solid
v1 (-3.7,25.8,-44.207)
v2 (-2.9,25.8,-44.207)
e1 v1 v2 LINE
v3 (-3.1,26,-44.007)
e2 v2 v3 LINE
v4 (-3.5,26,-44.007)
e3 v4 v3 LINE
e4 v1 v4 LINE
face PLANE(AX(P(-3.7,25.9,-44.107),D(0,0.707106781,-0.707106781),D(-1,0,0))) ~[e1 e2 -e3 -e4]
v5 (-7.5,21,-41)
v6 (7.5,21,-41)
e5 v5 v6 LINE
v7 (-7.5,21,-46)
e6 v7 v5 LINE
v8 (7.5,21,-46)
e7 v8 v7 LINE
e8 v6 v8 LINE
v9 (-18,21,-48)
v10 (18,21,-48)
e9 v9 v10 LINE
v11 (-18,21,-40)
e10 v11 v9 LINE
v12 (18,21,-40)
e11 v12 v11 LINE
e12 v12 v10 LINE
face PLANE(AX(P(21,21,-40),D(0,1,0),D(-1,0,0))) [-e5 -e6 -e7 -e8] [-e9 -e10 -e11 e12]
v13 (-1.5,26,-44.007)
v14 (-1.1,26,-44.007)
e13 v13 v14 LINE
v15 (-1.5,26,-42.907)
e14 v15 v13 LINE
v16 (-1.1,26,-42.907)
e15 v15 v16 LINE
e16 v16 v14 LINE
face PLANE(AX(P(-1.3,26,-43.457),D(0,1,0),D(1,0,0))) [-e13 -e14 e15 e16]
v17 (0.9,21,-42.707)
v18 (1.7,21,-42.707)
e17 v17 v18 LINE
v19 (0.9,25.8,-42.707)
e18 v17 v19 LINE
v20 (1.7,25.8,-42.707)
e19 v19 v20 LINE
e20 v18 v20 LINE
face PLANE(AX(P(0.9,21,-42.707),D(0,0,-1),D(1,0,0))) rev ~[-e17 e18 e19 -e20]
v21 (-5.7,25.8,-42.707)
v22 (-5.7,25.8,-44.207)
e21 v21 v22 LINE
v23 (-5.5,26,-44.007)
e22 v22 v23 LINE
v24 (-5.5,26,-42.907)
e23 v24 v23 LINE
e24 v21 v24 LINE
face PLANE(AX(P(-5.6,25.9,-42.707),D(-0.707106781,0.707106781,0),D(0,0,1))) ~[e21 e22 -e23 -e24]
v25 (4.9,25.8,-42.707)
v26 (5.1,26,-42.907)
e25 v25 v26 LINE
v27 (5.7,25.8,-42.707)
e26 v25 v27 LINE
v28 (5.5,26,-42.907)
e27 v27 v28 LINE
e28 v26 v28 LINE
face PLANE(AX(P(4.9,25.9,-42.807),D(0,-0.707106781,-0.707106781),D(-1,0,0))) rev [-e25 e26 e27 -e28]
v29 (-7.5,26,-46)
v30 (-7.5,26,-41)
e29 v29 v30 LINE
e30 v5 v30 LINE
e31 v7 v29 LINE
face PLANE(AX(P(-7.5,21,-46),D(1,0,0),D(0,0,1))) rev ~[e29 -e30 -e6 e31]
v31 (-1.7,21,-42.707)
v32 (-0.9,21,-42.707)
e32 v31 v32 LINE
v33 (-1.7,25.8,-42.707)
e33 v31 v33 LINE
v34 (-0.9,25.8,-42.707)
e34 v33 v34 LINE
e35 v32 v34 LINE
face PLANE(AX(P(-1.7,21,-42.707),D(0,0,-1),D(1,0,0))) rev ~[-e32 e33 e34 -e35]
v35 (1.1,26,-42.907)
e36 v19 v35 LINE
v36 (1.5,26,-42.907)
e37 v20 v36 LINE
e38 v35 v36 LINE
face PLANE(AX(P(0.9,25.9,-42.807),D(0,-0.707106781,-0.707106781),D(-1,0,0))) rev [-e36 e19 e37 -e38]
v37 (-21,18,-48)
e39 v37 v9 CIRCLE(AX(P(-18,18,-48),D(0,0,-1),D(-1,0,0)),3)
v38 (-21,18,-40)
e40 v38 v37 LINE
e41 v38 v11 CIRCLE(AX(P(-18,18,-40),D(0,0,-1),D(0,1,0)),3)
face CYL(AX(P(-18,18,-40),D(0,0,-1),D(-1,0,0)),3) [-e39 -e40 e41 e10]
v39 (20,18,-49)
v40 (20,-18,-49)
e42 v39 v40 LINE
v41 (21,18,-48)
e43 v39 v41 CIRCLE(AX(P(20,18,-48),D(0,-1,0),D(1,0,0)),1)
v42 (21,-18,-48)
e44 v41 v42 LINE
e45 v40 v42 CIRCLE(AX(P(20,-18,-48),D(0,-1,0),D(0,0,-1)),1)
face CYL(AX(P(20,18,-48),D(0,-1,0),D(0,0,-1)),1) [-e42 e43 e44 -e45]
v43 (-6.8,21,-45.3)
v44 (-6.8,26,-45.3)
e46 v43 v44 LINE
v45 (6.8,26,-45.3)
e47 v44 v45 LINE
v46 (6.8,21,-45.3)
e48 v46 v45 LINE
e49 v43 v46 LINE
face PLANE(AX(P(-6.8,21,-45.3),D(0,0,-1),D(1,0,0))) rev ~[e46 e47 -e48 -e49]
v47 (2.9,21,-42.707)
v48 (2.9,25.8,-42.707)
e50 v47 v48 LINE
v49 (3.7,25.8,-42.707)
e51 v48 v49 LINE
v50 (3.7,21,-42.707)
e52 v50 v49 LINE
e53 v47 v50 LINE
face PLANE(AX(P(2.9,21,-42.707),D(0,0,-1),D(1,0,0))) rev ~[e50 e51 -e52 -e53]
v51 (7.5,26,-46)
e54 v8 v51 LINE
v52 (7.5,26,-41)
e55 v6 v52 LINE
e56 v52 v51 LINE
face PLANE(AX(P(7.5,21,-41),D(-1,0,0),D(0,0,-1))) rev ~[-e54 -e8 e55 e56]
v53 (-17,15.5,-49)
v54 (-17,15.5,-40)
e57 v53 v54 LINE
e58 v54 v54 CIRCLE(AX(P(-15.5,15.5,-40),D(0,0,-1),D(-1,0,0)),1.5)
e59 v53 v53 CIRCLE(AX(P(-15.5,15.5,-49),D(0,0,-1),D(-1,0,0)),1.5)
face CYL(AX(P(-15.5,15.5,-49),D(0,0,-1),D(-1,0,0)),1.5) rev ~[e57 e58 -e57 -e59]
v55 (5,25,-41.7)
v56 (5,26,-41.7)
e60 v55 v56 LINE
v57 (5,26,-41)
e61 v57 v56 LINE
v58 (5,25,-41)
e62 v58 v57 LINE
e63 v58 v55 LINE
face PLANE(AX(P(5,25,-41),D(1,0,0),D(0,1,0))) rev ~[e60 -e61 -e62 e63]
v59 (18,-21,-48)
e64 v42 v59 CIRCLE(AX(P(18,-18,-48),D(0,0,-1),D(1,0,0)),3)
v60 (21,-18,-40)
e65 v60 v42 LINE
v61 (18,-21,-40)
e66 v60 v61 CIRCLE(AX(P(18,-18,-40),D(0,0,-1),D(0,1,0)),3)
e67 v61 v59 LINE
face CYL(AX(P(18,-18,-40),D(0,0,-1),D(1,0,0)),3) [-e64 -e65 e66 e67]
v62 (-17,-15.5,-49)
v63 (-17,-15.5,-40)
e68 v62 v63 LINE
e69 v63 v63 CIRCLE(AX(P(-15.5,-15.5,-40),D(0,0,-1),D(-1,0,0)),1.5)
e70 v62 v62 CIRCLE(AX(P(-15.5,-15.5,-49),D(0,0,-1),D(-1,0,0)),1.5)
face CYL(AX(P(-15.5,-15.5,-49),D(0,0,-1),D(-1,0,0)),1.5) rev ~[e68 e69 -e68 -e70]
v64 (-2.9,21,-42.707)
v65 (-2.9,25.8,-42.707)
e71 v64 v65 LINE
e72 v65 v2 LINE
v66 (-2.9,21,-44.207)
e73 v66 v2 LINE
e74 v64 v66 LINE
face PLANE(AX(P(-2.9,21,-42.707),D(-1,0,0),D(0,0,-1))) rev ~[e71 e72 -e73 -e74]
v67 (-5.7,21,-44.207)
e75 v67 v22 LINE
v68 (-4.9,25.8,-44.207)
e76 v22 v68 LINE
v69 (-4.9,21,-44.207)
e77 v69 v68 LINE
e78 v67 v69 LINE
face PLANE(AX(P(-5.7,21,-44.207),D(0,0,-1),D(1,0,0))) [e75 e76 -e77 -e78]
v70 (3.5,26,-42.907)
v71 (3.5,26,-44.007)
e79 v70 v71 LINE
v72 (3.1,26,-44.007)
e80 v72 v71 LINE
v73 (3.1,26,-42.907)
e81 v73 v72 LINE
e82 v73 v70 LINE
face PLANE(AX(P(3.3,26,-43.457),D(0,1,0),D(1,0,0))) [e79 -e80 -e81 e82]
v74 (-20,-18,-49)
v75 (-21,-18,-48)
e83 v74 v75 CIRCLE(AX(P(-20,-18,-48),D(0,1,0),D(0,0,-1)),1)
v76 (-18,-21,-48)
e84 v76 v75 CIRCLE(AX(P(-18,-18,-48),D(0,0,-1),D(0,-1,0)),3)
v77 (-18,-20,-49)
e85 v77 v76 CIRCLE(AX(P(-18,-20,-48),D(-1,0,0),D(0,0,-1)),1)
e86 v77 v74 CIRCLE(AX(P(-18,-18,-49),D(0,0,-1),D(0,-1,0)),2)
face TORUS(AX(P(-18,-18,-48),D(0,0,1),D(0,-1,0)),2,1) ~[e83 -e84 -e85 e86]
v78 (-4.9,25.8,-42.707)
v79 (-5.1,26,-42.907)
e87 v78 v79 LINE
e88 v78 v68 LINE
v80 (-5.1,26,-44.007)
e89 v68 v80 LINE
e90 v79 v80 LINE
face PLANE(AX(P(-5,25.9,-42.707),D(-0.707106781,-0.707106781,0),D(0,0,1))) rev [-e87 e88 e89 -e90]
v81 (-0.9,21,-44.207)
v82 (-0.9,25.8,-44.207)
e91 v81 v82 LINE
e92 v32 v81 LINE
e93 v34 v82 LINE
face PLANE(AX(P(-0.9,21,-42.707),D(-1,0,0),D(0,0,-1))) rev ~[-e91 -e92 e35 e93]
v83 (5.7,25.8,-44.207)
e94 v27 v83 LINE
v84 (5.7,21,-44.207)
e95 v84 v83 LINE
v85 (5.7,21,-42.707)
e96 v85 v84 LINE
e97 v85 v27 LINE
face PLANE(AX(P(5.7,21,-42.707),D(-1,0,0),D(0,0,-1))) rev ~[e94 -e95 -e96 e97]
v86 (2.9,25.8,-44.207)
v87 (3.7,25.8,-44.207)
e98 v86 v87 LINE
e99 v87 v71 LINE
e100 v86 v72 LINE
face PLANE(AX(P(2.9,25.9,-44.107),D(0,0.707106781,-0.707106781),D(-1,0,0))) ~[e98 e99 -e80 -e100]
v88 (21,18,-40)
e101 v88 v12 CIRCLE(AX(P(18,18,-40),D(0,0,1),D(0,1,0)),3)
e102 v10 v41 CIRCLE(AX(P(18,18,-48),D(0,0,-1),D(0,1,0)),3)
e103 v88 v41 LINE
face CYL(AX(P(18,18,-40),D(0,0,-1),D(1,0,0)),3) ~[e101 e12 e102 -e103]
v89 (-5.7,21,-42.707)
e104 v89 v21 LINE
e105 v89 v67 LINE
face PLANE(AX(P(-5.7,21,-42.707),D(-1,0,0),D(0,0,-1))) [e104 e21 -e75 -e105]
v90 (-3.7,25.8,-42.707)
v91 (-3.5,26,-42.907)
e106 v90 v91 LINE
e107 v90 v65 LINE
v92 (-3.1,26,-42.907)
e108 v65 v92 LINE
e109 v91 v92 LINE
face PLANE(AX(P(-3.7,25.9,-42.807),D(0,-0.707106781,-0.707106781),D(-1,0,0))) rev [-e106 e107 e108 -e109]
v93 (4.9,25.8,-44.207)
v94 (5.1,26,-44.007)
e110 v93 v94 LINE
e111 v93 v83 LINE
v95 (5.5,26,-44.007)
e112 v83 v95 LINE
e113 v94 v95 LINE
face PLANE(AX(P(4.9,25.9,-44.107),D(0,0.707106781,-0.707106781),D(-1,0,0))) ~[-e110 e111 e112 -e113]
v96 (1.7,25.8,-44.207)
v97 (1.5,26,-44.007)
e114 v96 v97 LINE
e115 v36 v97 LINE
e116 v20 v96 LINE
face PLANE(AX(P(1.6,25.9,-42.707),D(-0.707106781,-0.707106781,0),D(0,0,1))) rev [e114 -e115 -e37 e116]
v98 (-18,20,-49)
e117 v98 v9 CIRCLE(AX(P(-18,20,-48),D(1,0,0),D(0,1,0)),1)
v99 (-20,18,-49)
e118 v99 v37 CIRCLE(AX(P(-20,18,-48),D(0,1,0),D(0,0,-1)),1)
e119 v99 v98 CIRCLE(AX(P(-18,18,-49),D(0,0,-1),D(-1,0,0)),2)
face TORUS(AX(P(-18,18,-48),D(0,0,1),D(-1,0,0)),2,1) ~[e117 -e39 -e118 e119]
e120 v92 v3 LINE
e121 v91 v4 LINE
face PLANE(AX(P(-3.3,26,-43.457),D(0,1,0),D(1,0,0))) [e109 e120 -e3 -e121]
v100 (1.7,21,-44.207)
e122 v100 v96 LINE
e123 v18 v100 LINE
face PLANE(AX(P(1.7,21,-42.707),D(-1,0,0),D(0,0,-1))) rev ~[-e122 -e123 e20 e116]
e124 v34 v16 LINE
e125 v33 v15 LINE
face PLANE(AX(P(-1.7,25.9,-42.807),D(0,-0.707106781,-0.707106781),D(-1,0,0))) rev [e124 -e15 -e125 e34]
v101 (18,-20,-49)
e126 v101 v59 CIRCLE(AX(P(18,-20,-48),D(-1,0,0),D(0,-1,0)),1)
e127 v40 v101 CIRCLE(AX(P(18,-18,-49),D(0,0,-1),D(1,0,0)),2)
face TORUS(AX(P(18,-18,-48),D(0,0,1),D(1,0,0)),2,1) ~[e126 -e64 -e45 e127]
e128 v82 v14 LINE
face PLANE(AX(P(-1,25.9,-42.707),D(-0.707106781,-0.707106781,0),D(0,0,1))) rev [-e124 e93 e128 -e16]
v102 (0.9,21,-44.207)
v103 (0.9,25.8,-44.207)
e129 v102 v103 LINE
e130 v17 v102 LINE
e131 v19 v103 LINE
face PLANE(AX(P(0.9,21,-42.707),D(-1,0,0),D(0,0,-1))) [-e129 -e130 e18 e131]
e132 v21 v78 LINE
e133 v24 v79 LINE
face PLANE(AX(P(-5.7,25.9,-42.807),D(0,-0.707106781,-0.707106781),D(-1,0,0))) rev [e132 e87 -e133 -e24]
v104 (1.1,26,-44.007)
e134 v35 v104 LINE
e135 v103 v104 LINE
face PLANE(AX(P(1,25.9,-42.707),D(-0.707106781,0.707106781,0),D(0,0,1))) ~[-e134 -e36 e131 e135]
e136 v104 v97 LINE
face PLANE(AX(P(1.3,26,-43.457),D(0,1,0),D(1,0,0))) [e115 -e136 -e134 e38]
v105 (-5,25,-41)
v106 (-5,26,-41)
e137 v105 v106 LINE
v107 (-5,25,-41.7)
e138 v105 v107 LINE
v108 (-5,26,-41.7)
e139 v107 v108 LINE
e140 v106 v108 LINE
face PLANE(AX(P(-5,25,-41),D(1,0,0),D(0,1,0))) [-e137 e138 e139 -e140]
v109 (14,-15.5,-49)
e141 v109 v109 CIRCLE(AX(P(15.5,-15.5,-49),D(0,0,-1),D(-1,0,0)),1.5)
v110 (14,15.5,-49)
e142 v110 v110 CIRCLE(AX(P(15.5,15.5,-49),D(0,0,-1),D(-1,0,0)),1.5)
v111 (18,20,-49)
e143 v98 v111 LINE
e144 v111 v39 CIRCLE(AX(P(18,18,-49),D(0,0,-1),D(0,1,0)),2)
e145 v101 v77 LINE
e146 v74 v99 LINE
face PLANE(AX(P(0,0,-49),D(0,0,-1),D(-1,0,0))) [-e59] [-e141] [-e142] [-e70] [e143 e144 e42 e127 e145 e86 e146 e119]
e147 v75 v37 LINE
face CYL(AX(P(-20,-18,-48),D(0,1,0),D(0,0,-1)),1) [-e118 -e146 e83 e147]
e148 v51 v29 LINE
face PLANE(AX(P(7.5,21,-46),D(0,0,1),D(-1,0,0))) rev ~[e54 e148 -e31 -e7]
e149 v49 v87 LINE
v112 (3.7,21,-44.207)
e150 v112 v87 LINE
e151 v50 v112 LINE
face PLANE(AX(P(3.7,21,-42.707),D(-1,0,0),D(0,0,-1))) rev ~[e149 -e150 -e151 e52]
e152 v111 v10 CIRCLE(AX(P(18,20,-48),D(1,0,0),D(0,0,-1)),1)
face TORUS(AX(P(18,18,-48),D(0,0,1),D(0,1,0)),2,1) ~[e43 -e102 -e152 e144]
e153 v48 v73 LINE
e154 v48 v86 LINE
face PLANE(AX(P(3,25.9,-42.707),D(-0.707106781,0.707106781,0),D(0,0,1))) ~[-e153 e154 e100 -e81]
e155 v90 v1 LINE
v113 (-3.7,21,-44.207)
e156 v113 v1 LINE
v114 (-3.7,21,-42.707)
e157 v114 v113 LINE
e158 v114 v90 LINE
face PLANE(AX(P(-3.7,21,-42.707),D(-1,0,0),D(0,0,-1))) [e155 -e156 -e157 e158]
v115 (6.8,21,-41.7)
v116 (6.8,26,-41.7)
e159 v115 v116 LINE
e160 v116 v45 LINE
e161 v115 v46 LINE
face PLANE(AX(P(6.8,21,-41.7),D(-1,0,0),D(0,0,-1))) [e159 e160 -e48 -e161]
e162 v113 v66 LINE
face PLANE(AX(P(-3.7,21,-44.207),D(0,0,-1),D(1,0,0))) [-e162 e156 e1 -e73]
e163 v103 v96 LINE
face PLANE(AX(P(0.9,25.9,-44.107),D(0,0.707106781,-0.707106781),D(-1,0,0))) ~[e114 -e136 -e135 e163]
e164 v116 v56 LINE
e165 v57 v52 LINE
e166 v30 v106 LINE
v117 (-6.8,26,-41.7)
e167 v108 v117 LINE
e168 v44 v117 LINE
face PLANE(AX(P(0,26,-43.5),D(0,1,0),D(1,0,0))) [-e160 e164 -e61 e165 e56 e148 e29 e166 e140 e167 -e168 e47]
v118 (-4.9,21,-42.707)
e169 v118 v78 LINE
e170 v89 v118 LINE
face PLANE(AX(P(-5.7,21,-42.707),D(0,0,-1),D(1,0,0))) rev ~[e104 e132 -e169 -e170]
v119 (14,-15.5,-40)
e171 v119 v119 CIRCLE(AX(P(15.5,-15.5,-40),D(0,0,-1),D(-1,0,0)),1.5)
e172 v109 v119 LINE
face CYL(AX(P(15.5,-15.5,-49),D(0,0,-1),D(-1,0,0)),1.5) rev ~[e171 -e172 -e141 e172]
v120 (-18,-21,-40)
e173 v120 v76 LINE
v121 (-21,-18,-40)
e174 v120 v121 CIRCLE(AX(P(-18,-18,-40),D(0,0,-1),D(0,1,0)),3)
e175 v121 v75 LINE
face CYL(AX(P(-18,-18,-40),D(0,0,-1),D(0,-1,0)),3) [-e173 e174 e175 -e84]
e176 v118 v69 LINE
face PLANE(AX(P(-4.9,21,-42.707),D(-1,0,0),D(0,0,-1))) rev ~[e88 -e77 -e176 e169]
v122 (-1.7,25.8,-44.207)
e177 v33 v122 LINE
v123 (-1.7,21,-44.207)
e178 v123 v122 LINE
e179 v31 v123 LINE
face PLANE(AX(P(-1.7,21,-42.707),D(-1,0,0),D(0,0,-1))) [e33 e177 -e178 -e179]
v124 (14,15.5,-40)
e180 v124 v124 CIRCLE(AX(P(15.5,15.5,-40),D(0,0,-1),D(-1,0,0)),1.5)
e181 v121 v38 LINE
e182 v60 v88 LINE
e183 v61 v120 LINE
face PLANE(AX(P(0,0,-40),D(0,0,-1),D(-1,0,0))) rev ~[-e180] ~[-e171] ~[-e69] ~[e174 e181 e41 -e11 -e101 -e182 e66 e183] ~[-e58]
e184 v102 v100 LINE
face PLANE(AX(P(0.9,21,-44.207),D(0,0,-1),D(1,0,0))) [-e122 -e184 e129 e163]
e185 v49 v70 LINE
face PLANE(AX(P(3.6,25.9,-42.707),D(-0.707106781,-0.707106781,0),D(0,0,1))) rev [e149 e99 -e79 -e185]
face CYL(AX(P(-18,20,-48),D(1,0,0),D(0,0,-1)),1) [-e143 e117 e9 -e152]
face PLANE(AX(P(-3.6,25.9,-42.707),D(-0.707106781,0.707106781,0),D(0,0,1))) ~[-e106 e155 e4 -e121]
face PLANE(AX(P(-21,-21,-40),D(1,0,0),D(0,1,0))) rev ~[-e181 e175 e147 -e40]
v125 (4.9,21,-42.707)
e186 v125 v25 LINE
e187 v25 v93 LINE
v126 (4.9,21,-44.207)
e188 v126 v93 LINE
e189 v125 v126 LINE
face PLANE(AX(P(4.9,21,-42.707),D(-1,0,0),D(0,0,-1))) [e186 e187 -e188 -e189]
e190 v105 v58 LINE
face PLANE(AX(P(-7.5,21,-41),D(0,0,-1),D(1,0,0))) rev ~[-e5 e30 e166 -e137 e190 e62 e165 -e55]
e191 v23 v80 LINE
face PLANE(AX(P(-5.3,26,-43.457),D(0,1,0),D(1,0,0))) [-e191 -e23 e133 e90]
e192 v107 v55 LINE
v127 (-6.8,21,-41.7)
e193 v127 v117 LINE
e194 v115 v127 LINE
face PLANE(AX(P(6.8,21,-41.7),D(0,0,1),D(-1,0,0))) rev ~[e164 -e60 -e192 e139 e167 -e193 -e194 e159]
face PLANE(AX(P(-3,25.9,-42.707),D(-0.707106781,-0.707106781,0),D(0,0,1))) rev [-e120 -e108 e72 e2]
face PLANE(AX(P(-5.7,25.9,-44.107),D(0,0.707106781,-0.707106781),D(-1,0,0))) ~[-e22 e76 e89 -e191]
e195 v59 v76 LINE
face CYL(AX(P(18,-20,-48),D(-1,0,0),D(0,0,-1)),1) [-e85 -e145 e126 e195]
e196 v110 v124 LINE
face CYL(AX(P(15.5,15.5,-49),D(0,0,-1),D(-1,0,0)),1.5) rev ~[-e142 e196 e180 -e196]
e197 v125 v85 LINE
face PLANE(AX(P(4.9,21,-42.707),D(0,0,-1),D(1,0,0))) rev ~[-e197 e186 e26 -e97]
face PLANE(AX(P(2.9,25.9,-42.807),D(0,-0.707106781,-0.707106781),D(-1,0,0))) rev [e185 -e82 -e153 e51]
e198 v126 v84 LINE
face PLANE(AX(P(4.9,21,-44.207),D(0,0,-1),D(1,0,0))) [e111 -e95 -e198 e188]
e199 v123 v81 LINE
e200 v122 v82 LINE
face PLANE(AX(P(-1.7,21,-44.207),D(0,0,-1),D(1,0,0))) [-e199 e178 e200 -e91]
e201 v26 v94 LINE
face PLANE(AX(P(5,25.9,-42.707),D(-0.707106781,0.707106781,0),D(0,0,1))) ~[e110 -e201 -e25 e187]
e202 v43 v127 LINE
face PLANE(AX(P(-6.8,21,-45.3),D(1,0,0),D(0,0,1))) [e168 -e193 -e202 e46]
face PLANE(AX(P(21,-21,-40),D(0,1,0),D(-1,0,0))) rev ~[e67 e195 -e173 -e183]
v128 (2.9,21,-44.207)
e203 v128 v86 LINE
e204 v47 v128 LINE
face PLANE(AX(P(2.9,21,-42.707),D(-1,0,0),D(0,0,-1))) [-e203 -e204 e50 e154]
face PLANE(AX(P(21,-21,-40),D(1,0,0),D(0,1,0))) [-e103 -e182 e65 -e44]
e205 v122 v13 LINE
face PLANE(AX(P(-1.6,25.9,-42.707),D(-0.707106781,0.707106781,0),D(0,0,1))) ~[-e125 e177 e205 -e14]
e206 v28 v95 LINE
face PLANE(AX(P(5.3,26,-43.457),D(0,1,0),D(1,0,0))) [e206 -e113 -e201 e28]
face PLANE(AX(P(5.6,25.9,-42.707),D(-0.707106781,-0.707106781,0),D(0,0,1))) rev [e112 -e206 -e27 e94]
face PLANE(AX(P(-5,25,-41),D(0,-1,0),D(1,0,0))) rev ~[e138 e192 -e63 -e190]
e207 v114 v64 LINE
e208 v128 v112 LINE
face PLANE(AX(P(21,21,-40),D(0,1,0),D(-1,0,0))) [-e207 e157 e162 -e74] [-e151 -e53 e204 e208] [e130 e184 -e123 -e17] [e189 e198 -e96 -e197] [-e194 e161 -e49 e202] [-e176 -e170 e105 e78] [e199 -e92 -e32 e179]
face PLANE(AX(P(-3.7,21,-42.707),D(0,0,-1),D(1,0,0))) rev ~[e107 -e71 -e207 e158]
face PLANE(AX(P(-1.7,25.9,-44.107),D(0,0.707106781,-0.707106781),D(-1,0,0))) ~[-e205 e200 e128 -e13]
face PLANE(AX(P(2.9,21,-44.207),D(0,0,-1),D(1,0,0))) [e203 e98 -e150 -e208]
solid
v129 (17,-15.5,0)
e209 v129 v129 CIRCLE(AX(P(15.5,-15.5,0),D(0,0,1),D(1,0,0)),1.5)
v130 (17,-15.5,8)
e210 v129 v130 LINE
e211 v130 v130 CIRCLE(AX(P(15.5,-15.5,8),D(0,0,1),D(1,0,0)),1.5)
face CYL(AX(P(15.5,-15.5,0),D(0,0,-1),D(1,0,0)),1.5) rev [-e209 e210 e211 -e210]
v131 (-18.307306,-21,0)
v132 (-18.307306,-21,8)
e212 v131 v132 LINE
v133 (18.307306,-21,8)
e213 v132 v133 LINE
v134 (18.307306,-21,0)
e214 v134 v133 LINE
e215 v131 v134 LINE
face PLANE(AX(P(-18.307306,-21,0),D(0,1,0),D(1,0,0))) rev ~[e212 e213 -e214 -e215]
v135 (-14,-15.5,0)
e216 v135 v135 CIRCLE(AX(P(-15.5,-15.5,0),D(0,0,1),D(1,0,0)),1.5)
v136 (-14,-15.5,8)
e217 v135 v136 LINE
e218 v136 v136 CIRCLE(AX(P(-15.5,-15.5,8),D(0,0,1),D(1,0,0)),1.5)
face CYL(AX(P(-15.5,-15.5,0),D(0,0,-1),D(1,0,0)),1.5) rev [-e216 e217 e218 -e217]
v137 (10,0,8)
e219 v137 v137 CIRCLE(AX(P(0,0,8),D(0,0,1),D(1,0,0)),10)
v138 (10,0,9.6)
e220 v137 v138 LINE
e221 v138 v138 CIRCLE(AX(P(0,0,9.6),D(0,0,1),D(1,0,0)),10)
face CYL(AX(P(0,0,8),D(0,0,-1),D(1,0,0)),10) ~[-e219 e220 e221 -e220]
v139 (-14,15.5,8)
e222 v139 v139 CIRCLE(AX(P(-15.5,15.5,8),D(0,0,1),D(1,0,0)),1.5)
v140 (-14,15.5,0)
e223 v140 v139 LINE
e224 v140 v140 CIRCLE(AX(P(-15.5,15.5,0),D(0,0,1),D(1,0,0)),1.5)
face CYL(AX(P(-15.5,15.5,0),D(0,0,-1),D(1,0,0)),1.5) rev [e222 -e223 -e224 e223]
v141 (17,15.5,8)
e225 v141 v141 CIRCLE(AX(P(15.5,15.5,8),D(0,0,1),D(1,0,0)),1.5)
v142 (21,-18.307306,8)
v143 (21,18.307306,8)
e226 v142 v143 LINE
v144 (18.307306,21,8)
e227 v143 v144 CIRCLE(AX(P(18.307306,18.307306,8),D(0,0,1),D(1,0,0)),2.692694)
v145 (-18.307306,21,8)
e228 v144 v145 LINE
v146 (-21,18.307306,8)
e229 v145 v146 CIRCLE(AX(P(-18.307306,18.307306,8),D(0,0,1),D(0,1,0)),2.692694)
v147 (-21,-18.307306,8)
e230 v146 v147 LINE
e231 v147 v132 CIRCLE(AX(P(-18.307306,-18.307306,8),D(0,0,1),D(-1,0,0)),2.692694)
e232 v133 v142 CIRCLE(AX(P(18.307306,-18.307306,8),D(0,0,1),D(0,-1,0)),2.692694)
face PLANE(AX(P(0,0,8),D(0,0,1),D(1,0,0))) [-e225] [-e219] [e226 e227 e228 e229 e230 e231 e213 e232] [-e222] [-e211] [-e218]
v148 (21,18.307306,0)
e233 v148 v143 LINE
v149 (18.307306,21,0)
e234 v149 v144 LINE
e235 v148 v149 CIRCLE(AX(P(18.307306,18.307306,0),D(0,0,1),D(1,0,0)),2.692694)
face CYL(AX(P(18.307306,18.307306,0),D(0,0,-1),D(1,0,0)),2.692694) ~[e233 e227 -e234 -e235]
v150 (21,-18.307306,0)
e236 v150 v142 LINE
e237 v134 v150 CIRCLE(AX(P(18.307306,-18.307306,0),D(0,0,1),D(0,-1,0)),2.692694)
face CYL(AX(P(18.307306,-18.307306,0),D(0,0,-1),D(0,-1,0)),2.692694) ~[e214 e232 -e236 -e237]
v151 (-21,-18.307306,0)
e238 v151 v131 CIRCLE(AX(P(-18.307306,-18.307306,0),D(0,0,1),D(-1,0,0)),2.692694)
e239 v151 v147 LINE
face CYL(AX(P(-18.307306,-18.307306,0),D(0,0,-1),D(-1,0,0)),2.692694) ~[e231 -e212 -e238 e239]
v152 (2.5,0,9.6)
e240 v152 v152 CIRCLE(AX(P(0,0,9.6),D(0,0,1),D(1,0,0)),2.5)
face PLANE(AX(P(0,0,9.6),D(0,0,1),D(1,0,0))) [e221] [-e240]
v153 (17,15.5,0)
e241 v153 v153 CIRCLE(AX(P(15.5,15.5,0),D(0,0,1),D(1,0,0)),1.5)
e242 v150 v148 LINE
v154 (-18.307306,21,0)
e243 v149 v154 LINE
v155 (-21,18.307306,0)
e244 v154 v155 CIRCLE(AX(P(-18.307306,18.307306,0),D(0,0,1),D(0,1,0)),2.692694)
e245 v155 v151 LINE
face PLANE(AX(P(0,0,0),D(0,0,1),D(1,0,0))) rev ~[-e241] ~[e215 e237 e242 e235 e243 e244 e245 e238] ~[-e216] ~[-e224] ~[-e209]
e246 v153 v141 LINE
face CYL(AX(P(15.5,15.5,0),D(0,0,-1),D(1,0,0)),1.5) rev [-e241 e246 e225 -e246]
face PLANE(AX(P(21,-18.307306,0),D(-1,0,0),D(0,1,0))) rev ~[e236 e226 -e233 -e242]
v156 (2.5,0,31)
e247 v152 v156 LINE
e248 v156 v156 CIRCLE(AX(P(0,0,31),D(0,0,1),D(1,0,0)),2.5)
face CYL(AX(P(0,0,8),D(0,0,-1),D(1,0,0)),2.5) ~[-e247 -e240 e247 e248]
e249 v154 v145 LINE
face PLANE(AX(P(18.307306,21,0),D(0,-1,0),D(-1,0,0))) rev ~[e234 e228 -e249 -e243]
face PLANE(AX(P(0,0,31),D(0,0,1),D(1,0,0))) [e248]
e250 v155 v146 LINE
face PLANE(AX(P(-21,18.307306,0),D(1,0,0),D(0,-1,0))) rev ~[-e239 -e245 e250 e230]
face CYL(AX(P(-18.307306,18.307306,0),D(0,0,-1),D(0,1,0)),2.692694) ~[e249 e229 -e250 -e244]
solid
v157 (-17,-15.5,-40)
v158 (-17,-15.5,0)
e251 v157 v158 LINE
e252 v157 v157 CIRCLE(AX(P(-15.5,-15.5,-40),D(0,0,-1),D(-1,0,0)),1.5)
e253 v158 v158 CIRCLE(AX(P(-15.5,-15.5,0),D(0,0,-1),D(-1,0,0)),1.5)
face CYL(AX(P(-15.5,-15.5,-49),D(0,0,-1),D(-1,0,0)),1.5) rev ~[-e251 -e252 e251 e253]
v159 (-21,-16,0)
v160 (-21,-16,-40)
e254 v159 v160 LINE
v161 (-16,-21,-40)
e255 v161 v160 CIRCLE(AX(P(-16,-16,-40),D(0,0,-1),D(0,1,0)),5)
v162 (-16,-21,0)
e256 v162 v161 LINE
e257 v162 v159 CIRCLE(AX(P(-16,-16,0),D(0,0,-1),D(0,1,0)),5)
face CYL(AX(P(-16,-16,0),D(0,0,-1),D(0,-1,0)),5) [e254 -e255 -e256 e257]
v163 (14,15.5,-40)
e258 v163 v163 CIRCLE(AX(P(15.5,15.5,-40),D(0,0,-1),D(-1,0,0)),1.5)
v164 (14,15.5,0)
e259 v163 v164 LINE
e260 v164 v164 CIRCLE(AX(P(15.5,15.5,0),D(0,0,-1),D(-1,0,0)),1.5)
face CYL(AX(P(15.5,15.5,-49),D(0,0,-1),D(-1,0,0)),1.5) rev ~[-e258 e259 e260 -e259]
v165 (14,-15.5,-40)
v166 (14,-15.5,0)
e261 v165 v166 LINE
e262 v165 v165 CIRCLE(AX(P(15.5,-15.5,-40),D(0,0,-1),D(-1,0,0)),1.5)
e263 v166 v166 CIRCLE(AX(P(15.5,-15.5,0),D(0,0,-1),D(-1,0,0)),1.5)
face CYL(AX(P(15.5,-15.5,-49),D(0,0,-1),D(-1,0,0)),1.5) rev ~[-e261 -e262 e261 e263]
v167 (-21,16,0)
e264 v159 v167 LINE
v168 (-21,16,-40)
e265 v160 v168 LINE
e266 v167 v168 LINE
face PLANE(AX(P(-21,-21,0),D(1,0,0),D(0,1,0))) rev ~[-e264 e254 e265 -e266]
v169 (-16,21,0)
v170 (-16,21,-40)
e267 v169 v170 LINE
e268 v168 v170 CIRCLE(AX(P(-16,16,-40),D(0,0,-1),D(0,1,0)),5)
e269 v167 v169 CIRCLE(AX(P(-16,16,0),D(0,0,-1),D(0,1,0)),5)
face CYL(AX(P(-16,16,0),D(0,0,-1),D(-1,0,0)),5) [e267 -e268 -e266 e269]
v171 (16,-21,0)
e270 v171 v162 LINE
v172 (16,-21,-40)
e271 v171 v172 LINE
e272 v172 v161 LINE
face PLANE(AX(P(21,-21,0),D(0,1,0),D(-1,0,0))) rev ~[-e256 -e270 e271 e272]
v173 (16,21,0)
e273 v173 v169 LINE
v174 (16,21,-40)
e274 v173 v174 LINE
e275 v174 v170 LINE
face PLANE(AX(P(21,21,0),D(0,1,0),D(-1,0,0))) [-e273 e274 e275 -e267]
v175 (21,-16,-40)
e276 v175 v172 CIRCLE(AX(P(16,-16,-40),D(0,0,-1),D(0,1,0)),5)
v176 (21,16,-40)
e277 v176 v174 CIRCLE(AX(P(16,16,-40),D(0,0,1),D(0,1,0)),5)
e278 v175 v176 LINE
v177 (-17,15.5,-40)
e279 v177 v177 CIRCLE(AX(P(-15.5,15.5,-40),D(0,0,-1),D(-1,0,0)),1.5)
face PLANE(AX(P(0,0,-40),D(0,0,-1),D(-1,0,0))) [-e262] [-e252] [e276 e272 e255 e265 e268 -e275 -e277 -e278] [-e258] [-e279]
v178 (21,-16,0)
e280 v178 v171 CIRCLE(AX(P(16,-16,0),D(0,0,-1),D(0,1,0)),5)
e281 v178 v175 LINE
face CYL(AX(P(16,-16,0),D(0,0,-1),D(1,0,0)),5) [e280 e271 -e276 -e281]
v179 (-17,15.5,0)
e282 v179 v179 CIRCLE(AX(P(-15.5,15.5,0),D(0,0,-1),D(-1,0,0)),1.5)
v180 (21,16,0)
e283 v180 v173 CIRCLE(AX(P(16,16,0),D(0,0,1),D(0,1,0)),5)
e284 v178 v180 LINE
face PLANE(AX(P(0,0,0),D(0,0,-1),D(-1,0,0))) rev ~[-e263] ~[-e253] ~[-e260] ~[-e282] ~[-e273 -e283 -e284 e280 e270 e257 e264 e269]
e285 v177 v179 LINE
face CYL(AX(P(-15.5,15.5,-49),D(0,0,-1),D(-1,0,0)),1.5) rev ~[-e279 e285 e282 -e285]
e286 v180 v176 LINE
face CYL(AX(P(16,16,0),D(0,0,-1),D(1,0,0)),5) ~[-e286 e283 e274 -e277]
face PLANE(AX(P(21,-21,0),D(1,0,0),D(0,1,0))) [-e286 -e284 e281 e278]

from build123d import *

# Parameters (mm, degrees)
SKETCH1_R           = 1.5
BOSS_EXTRUDE1_DEPTH = 8
SKETCH2_R           = 2.5
BOSS_EXTRUDE2_DEPTH = 23
SKETCH3_W           = 42
SKETCH3_H           = 42
BOSS_EXTRUDE3_DEPTH = 40
SKETCH4_W           = 42
SKETCH4_H           = 42
BOSS_EXTRUDE4_DEPTH = 9
FILLET1_R           = 3
FILLET3_R           = 5
SKETCH5_R           = 1.5
CUT_EXTRUDE1_DEPTH  = 81
SKETCH6_R           = 10
SKETCH6_R_2         = 2.5
BOSS_EXTRUDE5_DEPTH = 1.6
SKETCH7_W           = 0.8
SKETCH7_H           = 1.5
BOSS_EXTRUDE6_DEPTH = 5
CHAMFER1_SIZE       = 0.2
SKETCH8_W           = 10
SKETCH8_H           = 1
CUT_EXTRUDE2_DEPTH  = 0.7
FILLET5_R           = 1


with BuildPart() as part:
    # Sketch1 → Boss-Extrude1 (new body)
    with BuildSketch(Plane.XY):
        with BuildLine():
            Line((-18.307305591, -21), (18.307305591, -21))
            ThreePointArc((18.307305591, -21), (20.211328067, -20.211328067), (21, -18.307305591))
            Line((21, -18.307305591), (21, 18.307305591))
            ThreePointArc((21, 18.307305591), (20.211328067, 20.211328067), (18.307305591, 21))
            Line((18.307305591, 21), (-18.307305591, 21))
            ThreePointArc((-18.307305591, 21), (-20.211328067, 20.211328067), (-21, 18.307305591))
            Line((-21, 18.307305591), (-21, -18.307305591))
            ThreePointArc((-21, -18.307305591), (-20.211328067, -20.211328067), (-18.307305591, -21))
        make_face()
        with Locations((-15.5, 15.5)):
            Circle(SKETCH1_R, mode=Mode.SUBTRACT)
        with Locations((15.5, 15.5)):
            Circle(SKETCH1_R, mode=Mode.SUBTRACT)
        with Locations((15.5, -15.5)):
            Circle(SKETCH1_R, mode=Mode.SUBTRACT)
        with Locations((-15.5, -15.5)):
            Circle(SKETCH1_R, mode=Mode.SUBTRACT)
    extrude(amount=BOSS_EXTRUDE1_DEPTH)

    # Sketch2 → Boss-Extrude2 (add)
    with BuildSketch(Plane.XY.offset(8)):
        Circle(SKETCH2_R)
    extrude(amount=BOSS_EXTRUDE2_DEPTH)

    # Sketch6 → Boss-Extrude5 (add)
    with BuildSketch(Plane.XY.offset(8)):
        Circle(SKETCH6_R)
        Circle(SKETCH6_R_2, mode=Mode.SUBTRACT)
    extrude(amount=BOSS_EXTRUDE5_DEPTH)


with BuildPart() as body_2:
    # Sketch3 → Boss-Extrude3 (new body)
    with BuildSketch(Plane(origin=(0, 0, 0), x_dir=(-1, 0, 0), z_dir=(0, 0, -1))):
        Rectangle(SKETCH3_W, SKETCH3_H)
    extrude(amount=BOSS_EXTRUDE3_DEPTH)

    # Fillet3
    fillet3_edges = [body_2.edges().sort_by_distance(p)[0] for p in [
        (-21, -21, -20),
        (21, -21, -20),
        (21, 21, -20),
        (-21, 21, -20),
    ]]
    fillet(fillet3_edges, radius=FILLET3_R)


with BuildPart() as body_3:
    # Sketch4 → Boss-Extrude4 (new body)
    with BuildSketch(Plane(origin=(0, 0, -40), x_dir=(-1, 0, 0), z_dir=(0, 0, -1))):
        Rectangle(SKETCH4_W, SKETCH4_H)
    extrude(amount=BOSS_EXTRUDE4_DEPTH)

    # Fillet1
    fillet1_edges = [body_3.edges().sort_by_distance(p)[0] for p in [
        (21, -21, -44.5),
        (21, 21, -44.5),
        (-21, 21, -44.5),
        (-21, -21, -44.5),
    ]]
    fillet(fillet1_edges, radius=FILLET1_R)


with BuildPart() as cut_extrude1_tool:
    # Sketch5 → Cut-Extrude1 (new body, through all)
    with BuildSketch(Plane(origin=(0, 0, -49), x_dir=(-1, 0, 0), z_dir=(0, 0, -1))):
        with Locations((-15.5, 15.5)):
            Circle(SKETCH5_R)
        with Locations((-15.5, -15.5)):
            Circle(SKETCH5_R)
        with Locations((15.5, 15.5)):
            Circle(SKETCH5_R)
        with Locations((15.5, -15.5)):
            Circle(SKETCH5_R)
    extrude(amount=-CUT_EXTRUDE1_DEPTH)


with BuildPart() as body_2_1:
    add(body_2.part)

    # Cut-Extrude1: cut by cut_extrude1_tool
    add(cut_extrude1_tool.part, mode=Mode.SUBTRACT)


with BuildPart() as body_3_1:
    add(body_3.part)

    # Cut-Extrude1: cut by cut_extrude1_tool
    add(cut_extrude1_tool.part, mode=Mode.SUBTRACT)

    # Sketch7 → Boss-Extrude6 (add)
    with BuildSketch(Plane(origin=(0, 21, 0), x_dir=(1, 0, 0), z_dir=(0, 1, 0))):
        Polygon((7.5, 41), (7.5, 46), (0, 46), (-7.5, 46), (-7.5, 41), align=None)
        Polygon((6.8, 45.3), (0, 45.3), (-6.8, 45.3), (-6.8, 41.7), (0, 41.7), (6.8, 41.7), align=None, mode=Mode.SUBTRACT)
        with Locations((-5.3, 43.457)):
            Rectangle(SKETCH7_W, SKETCH7_H)
        with Locations((-3.3, 43.457)):
            Rectangle(SKETCH7_W, SKETCH7_H)
        with Locations((-1.3, 43.457)):
            Rectangle(SKETCH7_W, SKETCH7_H)
        with Locations((1.3, 43.457)):
            Rectangle(SKETCH7_W, SKETCH7_H)
        with Locations((3.3, 43.457)):
            Rectangle(SKETCH7_W, SKETCH7_H)
        with Locations((5.3, 43.457)):
            Rectangle(SKETCH7_W, SKETCH7_H)
    extrude(amount=BOSS_EXTRUDE6_DEPTH)

    # Chamfer1
    chamfer1_edges = [body_3_1.edges().sort_by_distance(p)[0] for p in [
        (-1.7, 26, -43.457),
        (-1.3, 26, -42.707),
        (-0.9, 26, -43.457),
        (-1.3, 26, -44.207),
        (1.3, 26, -44.207),
        (0.9, 26, -43.457),
        (1.3, 26, -42.707),
        (1.7, 26, -43.457),
        (3.3, 26, -44.207),
        (2.9, 26, -43.457),
        (3.3, 26, -42.707),
        (3.7, 26, -43.457),
        (5.3, 26, -44.207),
        (4.9, 26, -43.457),
        (5.3, 26, -42.707),
        (5.7, 26, -43.457),
        (-5.3, 26, -44.207),
        (-5.7, 26, -43.457),
        (-5.3, 26, -42.707),
        (-4.9, 26, -43.457),
        (-3.3, 26, -44.207),
        (-3.7, 26, -43.457),
        (-3.3, 26, -42.707),
        (-2.9, 26, -43.457),
    ]]
    chamfer(chamfer1_edges, length=CHAMFER1_SIZE)

    # Sketch8 → Cut-Extrude2 (cut)
    with BuildSketch(Plane.XY.offset(-41)):
        with Locations((0, 25.5)):
            Rectangle(SKETCH8_W, SKETCH8_H)
    extrude(amount=-CUT_EXTRUDE2_DEPTH, mode=Mode.SUBTRACT)

    # Fillet5
    fillet5_edges = [body_3_1.edges().sort_by_distance(p)[0] for p in [
        (-21, 0, -49),
        (0, -21, -49),
        (0, 21, -49),
        (21, 0, -49),
        (-20.121320344, 20.121320344, -49),
        (20.121320344, 20.121320344, -49),
        (20.121320344, -20.121320344, -49),
        (-20.121320344, -20.121320344, -49),
    ]]
    fillet(fillet5_edges, radius=FILLET5_R)


solid = Compound([part.part, body_2_1.part, body_3_1.part])
